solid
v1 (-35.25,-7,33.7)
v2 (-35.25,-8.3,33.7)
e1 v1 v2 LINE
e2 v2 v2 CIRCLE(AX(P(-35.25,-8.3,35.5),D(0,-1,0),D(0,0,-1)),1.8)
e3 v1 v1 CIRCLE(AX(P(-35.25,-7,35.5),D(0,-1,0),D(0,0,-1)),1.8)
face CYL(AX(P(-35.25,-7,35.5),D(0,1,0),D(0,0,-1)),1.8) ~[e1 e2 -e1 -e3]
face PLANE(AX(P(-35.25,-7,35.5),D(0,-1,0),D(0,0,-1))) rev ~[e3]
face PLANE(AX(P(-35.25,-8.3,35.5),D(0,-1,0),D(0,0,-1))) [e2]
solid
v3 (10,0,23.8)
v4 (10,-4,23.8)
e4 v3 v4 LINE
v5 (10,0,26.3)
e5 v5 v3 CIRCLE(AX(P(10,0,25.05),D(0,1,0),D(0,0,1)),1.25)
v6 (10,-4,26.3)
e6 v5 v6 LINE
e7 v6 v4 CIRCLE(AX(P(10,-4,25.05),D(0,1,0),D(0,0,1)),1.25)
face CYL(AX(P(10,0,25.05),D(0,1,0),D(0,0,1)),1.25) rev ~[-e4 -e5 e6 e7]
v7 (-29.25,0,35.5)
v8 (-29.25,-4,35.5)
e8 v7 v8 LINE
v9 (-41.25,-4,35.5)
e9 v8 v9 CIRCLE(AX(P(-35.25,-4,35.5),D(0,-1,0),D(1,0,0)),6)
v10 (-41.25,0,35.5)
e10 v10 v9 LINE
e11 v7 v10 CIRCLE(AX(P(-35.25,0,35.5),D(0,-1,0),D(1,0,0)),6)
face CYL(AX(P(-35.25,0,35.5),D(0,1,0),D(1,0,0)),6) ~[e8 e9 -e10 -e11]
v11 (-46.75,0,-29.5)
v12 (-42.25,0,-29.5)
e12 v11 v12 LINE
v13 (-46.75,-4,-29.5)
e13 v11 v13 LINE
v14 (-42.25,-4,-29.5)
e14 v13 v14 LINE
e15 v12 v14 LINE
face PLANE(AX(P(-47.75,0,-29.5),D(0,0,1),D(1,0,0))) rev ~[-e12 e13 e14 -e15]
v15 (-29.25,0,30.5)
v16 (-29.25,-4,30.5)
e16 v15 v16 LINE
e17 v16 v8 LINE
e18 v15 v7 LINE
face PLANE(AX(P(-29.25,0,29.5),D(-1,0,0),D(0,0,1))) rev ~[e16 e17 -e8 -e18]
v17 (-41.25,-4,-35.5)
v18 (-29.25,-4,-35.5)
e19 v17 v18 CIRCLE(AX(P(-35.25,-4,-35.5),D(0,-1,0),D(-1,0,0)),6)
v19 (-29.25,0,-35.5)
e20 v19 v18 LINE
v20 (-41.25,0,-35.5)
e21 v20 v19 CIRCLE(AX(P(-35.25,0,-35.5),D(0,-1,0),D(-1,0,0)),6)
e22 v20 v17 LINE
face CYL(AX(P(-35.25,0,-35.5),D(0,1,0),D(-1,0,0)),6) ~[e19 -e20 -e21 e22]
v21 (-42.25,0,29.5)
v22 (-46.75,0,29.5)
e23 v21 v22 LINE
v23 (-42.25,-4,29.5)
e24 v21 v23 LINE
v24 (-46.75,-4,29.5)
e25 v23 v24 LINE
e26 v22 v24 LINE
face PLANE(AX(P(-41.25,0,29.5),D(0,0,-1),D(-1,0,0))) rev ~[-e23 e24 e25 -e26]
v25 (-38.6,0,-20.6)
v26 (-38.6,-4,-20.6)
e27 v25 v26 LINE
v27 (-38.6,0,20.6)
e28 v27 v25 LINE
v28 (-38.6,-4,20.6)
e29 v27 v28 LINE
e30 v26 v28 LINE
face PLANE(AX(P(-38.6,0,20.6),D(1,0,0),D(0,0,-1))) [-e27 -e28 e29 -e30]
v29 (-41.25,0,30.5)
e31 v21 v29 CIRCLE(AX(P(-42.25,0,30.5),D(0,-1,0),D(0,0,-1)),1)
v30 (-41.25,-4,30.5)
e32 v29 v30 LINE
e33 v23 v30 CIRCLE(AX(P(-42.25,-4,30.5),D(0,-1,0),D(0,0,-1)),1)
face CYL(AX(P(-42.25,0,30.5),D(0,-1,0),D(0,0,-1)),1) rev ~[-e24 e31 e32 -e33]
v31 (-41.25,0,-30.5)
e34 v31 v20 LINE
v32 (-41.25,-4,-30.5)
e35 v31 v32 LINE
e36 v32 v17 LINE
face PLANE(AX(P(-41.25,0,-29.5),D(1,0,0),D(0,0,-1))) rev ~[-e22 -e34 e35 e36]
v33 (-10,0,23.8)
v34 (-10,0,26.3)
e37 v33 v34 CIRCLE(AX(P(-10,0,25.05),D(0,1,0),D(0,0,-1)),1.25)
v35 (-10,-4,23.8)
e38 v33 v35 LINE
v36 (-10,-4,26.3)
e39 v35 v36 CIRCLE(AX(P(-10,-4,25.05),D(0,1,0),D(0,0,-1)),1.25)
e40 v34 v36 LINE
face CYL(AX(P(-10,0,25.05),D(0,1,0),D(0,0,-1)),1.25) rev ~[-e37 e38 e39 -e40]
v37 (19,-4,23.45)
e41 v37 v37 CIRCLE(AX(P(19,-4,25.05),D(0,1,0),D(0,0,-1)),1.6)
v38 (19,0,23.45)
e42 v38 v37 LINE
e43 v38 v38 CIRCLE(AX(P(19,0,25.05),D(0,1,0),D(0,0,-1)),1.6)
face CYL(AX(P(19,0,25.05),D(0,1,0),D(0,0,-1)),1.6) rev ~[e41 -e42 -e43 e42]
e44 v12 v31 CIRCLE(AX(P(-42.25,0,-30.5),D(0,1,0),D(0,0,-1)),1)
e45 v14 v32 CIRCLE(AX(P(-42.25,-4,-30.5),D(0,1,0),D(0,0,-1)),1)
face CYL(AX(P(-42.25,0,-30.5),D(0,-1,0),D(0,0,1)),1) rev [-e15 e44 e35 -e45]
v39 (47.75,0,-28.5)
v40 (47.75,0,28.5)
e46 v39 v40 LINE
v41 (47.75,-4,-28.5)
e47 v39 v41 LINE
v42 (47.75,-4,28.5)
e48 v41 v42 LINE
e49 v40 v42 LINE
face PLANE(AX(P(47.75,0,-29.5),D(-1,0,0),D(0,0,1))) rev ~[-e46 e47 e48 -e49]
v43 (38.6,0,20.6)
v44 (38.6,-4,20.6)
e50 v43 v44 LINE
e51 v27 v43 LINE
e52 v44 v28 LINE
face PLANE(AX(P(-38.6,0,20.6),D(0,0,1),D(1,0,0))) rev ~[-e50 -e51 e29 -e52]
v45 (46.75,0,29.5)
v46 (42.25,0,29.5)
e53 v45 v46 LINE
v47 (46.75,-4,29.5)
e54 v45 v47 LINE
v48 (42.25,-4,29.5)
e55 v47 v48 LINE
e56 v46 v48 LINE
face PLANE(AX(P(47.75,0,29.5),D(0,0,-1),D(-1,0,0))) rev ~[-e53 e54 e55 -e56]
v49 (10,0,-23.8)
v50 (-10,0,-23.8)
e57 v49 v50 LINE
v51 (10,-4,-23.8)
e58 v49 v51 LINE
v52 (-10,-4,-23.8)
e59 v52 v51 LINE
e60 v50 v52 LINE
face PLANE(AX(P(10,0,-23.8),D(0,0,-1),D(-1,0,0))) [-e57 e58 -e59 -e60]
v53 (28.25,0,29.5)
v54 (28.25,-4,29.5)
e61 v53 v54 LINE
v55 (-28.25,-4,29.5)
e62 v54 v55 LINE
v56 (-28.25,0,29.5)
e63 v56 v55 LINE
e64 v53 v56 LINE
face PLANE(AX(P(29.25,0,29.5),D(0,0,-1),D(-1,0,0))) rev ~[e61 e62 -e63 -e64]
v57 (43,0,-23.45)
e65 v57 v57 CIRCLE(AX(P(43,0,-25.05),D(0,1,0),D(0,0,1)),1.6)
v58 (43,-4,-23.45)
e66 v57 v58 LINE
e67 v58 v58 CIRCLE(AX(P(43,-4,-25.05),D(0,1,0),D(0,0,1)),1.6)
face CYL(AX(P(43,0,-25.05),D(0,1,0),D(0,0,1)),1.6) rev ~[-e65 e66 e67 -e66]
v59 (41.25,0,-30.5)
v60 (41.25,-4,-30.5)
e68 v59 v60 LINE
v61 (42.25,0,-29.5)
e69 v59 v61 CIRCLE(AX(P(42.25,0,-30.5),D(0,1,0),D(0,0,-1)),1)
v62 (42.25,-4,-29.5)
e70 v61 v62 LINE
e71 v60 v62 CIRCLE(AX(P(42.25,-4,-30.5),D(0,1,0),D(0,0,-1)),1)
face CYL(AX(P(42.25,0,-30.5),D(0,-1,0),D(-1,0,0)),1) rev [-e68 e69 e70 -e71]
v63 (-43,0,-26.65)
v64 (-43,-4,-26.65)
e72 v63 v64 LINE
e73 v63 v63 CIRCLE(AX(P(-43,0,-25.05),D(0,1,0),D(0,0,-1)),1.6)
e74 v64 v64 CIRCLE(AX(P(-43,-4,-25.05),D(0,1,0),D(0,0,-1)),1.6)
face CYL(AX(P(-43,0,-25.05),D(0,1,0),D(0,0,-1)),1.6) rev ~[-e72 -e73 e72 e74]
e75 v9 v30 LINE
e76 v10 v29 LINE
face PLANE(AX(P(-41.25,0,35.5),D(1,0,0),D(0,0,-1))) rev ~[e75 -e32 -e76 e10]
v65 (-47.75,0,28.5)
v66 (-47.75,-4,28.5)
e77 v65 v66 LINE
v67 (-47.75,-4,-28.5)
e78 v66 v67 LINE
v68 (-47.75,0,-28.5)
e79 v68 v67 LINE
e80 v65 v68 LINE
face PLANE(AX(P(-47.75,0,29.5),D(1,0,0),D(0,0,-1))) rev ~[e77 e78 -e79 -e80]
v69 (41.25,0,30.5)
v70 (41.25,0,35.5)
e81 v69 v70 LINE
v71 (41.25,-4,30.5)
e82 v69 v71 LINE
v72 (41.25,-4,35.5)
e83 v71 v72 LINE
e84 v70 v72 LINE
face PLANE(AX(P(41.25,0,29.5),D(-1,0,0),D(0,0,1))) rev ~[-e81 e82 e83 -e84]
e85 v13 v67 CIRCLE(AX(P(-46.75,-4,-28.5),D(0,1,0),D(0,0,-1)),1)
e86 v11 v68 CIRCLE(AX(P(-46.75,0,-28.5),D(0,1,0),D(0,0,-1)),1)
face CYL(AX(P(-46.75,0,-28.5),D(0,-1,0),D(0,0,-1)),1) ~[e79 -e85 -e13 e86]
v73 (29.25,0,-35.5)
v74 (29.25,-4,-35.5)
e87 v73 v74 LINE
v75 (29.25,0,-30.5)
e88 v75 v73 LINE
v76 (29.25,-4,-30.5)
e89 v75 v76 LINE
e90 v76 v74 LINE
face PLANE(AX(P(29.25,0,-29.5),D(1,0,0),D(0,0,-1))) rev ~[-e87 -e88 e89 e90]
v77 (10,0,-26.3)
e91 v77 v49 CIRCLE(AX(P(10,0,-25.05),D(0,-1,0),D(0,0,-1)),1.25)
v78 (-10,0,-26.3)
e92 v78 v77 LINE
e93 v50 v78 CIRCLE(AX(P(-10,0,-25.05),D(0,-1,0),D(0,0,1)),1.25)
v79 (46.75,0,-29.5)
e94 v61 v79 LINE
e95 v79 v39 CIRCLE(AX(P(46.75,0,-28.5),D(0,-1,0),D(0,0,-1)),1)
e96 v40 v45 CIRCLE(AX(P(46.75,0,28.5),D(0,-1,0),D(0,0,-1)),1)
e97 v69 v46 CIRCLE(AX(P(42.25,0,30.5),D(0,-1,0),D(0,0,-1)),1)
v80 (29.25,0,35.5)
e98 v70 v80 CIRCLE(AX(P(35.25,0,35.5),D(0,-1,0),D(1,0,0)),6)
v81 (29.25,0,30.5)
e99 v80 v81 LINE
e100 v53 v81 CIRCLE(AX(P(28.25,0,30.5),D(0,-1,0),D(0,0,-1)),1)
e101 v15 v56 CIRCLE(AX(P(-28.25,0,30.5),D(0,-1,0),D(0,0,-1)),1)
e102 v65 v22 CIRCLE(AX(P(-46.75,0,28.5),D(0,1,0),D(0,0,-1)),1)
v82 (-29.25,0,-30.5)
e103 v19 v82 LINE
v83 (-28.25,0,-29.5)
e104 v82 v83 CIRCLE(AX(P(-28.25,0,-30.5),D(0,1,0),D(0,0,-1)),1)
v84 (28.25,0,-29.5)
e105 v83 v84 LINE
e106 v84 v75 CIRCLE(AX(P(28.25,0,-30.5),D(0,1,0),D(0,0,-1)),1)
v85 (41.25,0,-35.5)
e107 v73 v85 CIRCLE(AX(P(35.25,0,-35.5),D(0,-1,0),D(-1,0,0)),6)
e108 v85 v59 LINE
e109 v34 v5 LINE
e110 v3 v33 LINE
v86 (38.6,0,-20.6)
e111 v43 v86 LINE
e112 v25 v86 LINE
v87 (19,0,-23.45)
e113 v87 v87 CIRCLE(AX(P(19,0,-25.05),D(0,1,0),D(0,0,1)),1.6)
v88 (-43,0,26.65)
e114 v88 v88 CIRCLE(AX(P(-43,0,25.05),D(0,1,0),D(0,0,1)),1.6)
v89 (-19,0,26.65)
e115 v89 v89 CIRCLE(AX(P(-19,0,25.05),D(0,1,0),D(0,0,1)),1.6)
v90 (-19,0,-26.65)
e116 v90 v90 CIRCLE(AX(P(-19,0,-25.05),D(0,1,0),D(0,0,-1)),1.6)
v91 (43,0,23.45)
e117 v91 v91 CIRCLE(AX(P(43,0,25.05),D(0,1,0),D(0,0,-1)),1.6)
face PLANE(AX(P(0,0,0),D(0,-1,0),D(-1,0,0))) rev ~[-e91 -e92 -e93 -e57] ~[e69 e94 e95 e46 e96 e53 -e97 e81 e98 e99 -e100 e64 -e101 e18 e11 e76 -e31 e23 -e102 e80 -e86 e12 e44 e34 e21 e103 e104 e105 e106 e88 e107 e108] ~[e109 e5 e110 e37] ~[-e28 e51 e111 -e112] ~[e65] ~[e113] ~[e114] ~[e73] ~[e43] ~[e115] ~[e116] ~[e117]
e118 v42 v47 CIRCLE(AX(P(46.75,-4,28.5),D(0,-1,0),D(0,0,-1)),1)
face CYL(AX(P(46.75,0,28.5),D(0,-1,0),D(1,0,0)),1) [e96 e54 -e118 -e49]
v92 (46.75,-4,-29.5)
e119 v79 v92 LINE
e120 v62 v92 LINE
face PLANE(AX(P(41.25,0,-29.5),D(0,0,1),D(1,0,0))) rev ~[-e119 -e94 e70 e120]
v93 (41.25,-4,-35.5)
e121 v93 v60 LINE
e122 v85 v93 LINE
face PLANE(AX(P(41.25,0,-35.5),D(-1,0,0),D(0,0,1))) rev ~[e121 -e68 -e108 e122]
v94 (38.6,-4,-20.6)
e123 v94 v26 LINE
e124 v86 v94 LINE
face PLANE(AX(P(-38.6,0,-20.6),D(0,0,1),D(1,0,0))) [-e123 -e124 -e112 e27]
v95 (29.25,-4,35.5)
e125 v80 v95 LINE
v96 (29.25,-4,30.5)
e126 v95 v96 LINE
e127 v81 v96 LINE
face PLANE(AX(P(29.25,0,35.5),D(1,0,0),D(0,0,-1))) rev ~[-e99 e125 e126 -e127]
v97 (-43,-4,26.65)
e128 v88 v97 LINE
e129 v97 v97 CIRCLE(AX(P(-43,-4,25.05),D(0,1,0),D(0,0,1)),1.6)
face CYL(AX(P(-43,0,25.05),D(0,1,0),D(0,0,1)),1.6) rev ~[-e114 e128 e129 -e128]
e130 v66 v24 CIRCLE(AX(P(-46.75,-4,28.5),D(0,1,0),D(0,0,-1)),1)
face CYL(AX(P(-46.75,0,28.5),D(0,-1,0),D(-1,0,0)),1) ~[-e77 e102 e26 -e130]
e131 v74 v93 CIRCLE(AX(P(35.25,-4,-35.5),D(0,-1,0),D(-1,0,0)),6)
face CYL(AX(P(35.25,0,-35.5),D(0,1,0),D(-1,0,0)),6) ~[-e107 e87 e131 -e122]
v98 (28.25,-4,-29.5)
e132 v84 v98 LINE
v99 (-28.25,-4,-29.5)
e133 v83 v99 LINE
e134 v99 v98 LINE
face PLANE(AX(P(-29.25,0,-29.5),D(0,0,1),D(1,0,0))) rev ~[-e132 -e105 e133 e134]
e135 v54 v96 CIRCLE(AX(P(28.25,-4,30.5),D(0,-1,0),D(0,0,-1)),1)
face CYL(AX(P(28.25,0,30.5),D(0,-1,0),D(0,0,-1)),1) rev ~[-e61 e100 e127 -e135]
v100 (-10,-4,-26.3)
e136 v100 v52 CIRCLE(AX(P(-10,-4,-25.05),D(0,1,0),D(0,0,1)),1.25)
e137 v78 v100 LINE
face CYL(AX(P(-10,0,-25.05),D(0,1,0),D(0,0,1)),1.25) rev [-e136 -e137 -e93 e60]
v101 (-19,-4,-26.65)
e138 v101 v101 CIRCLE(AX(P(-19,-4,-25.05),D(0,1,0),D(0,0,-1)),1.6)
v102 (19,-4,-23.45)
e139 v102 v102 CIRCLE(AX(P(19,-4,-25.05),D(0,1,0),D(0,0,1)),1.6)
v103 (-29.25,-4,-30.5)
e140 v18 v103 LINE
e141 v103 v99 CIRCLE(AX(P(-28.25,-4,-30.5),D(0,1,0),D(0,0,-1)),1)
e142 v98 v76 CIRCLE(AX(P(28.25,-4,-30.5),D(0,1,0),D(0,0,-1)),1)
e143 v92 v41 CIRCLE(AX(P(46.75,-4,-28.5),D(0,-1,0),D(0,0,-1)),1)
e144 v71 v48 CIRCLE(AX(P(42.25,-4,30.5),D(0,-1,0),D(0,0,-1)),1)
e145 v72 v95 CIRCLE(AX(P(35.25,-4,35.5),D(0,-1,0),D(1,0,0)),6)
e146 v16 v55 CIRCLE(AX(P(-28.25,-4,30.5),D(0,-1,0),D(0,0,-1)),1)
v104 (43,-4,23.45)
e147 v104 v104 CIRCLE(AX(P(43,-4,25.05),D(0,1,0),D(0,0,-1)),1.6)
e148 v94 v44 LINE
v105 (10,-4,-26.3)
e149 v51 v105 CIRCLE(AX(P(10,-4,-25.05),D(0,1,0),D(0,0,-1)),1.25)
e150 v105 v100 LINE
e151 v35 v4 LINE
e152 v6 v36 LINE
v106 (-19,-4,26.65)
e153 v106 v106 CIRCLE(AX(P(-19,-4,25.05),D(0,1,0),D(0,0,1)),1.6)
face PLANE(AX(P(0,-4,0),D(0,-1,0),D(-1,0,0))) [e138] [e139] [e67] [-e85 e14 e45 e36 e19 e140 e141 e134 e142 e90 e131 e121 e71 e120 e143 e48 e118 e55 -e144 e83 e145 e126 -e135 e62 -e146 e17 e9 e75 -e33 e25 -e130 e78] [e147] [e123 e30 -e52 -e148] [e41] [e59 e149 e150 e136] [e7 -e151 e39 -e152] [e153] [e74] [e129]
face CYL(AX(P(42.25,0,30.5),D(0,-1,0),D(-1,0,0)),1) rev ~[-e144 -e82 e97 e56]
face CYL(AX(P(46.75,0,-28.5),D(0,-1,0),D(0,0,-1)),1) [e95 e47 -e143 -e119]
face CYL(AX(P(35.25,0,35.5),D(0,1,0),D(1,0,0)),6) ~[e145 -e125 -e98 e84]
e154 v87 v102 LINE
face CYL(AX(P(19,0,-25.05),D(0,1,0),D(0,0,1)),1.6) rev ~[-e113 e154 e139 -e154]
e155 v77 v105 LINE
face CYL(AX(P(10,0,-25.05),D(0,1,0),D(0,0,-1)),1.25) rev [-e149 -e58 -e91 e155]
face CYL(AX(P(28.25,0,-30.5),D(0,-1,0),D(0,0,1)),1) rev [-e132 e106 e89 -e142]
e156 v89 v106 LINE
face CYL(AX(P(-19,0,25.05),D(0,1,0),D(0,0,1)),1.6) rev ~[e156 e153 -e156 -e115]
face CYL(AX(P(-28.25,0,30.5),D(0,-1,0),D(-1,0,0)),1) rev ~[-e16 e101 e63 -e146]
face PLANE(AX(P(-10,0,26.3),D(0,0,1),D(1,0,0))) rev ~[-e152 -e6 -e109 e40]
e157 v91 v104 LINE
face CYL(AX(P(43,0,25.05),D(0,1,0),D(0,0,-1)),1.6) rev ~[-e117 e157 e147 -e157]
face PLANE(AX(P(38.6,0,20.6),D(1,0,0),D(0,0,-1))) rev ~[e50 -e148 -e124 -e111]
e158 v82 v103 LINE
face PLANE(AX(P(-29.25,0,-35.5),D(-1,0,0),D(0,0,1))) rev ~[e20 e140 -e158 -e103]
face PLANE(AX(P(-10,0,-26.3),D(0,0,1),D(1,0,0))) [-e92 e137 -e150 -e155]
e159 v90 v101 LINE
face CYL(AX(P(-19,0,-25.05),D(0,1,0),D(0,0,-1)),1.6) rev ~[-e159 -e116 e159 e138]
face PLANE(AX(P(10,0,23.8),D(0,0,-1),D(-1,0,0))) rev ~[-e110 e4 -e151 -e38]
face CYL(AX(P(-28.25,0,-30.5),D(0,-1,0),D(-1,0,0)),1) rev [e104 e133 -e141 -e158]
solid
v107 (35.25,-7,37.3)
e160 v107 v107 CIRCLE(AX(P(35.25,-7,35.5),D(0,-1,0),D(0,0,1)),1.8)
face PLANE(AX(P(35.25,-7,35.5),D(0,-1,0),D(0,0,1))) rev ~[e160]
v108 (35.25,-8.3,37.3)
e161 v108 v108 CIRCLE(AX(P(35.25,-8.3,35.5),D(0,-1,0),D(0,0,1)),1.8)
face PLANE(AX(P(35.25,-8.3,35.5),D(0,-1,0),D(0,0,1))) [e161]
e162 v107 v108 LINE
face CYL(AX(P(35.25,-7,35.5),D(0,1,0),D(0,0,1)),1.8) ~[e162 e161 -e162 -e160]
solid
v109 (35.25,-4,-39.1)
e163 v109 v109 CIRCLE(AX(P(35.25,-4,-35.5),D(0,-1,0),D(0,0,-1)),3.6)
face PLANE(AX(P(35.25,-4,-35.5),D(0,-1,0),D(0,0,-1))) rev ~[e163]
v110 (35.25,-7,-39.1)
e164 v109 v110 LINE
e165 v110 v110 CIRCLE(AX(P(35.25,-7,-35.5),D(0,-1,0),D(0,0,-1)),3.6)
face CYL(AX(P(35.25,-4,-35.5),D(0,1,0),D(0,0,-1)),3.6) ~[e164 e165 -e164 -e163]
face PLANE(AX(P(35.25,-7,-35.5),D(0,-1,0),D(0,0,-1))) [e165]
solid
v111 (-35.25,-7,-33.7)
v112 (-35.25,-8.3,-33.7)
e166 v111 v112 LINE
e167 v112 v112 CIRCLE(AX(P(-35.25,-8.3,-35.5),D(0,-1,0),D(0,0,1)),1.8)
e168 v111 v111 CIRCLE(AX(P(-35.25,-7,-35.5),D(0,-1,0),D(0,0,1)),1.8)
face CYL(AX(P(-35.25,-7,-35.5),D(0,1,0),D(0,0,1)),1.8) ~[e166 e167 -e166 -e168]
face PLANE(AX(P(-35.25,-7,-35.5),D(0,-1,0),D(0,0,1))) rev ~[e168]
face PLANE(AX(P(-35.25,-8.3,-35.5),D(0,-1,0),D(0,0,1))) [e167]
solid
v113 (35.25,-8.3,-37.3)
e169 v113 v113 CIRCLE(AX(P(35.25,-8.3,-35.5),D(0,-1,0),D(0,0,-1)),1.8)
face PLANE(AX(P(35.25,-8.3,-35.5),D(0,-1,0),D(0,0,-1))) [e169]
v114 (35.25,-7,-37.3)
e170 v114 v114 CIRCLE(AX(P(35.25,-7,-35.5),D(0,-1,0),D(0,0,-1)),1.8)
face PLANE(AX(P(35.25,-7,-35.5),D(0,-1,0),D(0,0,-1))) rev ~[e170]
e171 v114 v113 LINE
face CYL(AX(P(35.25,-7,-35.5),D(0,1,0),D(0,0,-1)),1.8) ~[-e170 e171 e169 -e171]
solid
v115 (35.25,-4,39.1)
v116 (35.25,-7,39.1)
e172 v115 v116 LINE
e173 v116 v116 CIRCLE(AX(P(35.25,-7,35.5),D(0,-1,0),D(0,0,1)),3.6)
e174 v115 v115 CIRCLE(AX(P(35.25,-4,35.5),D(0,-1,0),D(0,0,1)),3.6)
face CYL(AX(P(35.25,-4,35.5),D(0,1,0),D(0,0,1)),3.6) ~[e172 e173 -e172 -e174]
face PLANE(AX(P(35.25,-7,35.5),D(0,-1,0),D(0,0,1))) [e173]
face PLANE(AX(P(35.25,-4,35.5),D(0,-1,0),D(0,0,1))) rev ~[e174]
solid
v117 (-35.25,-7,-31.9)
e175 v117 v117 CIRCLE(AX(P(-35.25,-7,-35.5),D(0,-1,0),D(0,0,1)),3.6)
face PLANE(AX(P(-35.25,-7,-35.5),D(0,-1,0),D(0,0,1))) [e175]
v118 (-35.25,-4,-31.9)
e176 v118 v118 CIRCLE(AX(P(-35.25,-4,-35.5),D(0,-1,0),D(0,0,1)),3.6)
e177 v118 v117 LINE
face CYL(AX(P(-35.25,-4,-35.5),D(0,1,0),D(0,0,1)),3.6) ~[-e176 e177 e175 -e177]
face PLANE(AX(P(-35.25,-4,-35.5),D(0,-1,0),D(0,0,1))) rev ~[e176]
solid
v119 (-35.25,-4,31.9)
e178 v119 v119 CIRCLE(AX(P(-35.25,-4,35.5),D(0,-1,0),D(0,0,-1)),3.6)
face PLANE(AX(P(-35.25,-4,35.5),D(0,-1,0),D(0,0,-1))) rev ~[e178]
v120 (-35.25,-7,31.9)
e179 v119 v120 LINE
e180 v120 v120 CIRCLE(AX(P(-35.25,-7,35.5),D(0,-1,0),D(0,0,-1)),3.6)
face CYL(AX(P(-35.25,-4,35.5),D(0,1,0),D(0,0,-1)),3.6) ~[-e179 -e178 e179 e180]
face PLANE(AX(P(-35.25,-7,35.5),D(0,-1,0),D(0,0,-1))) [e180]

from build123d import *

# Parameters (mm, degrees)
EXTRUDE_1_DEPTH     = 4
SKETCH_4_R          = 3.6
EXTRUDE_2_DEPTH     = 3
EXTRUDE_2_2_DEPTH   = 3
EXTRUDE_2_3_DEPTH   = 3
EXTRUDE_2_4_DEPTH   = 3
SKETCH_5_R          = 1.8
EXTRUDE_3_DEPTH     = 1.3
EXTRUDE_3_2_DEPTH   = 1.3
EXTRUDE_3_3_DEPTH   = 1.3
EXTRUDE_3_4_DEPTH   = 1.3
SKETCH_10_W         = 77.2
SKETCH_10_H         = 41.2
CUT_EXTRUDE_5_DEPTH = 64.805975426
SKETCH_16_R         = 1.6
CUT_EXTRUDE_6_DEPTH = 10
FILLET_1_R          = 1


with BuildPart() as part:
    # 草图1 → 凸台-拉伸1 (new body)
    with BuildSketch(Plane(origin=(0, 0, 0), x_dir=(1, 0, 0), z_dir=(0, 1, 0))):
        with BuildLine():
            Line((-47.75, 29.5), (-41.25, 29.5))
            Line((-41.25, 29.5), (-41.25, 35.5))
            ThreePointArc((-41.25, 35.5), (-35.25, 41.5), (-29.25, 35.5))
            Line((-29.25, 35.5), (-29.25, 29.5))
            Line((-29.25, 29.5), (-3, 29.5))
            Line((-3, 29.5), (3.25, 29.5))
            Line((3.25, 29.5), (29.25, 29.5))
            Line((29.25, 29.5), (29.25, 35.5))
            ThreePointArc((29.25, 35.5), (35.25, 41.5), (41.25, 35.5))
            Line((41.25, 35.5), (41.25, 29.5))
            Line((41.25, 29.5), (47.75, 29.5))
            Line((47.75, 29.5), (47.75, -29.5))
            Line((47.75, -29.5), (41.25, -29.5))
            Line((41.25, -29.5), (41.25, -35.5))
            ThreePointArc((41.25, -35.5), (35.25, -41.5), (29.25, -35.5))
            Line((29.25, -35.5), (29.25, -29.5))
            Line((29.25, -29.5), (3.25, -29.5))
            Line((3.25, -29.5), (-3, -29.5))
            Line((-3, -29.5), (-29.25, -29.5))
            Line((-29.25, -29.5), (-29.25, -35.5))
            ThreePointArc((-29.25, -35.5), (-35.25, -41.5), (-41.25, -35.5))
            Line((-41.25, -35.5), (-41.25, -29.5))
            Line((-41.25, -29.5), (-47.75, -29.5))
            Line((-47.75, -29.5), (-47.75, 29.5))
        make_face()
    extrude(amount=-EXTRUDE_1_DEPTH)

    # 草图10 → 切除-拉伸5 (cut, through all)
    with BuildSketch(Plane(origin=(0, 0, 0), x_dir=(1, 0, 0), z_dir=(0, 1, 0))):
        Rectangle(SKETCH_10_W, SKETCH_10_H)
    extrude(amount=-CUT_EXTRUDE_5_DEPTH, mode=Mode.SUBTRACT)

    # 草图16 → 切除-拉伸6 (cut)
    with BuildSketch(Plane(origin=(0, 0, 0), x_dir=(1, 0, 0), z_dir=(0, 1, 0))):
        with Locations(Location((19, 25.05, 0), (0, 0, 270))):
            Circle(SKETCH_16_R)
        with Locations(Location((43, 25.05, 0), (0, 0, 270))):
            Circle(SKETCH_16_R)
        with Locations(Location((-43, 25.05, 0), (0, 0, 90))):
            Circle(SKETCH_16_R)
        with Locations(Location((-19, 25.05, 0), (0, 0, 90))):
            Circle(SKETCH_16_R)
        with Locations(Location((43, -25.05, 0), (0, 0, 90))):
            Circle(SKETCH_16_R)
        with Locations(Location((19, -25.05, 0), (0, 0, 90))):
            Circle(SKETCH_16_R)
        with Locations(Location((-19, -25.05, 0), (0, 0, 270))):
            Circle(SKETCH_16_R)
        with Locations(Location((-43, -25.05, 0), (0, 0, 270))):
            Circle(SKETCH_16_R)
        with BuildLine():
            Line((-10, 26.3), (10, 26.3))
            ThreePointArc((10, 26.3), (11.25, 25.05), (10, 23.8))
            Line((10, 23.8), (-10, 23.8))
            ThreePointArc((-10, 23.8), (-11.25, 25.05), (-10, 26.3))
        make_face()
        with BuildLine():
            Line((-10, -26.3), (10, -26.3))
            ThreePointArc((10, -26.3), (11.25, -25.05), (10, -23.8))
            Line((10, -23.8), (-10, -23.8))
            ThreePointArc((-10, -23.8), (-11.25, -25.05), (-10, -26.3))
        make_face()
    extrude(amount=-CUT_EXTRUDE_6_DEPTH, mode=Mode.SUBTRACT)

    # 圆角1
    fillet_1_edges = [part.edges().sort_by_distance(p)[0] for p in [
        (41.25, -2, 29.5),
        (29.25, -2, 29.5),
        (-29.25, -2, 29.5),
        (-41.25, -2, 29.5),
        (-47.75, -2, 29.5),
        (-47.75, -2, -29.5),
        (-41.25, -2, -29.5),
        (-29.25, -2, -29.5),
        (29.25, -2, -29.5),
        (41.25, -2, -29.5),
        (47.75, -2, -29.5),
        (47.75, -2, 29.5),
    ]]
    fillet(fillet_1_edges, radius=FILLET_1_R)


with BuildPart() as body_2:
    # 草图4 → 凸台-拉伸2 (new body)
    with BuildSketch(Plane.XZ.offset(4)):
        with Locations(Location((-35.25, 35.5, 0), (0, 0, 270))):
            Circle(SKETCH_4_R)
    extrude(amount=EXTRUDE_2_DEPTH)


with BuildPart() as body_3:
    # 草图4 → Extrude 2 2 (new body)
    with BuildSketch(Plane.XZ.offset(4)):
        with Locations(Location((-35.25, -35.5, 0), (0, 0, 90))):
            Circle(SKETCH_4_R)
    extrude(amount=EXTRUDE_2_2_DEPTH)


with BuildPart() as body_4:
    # 草图4 → Extrude 2 3 (new body)
    with BuildSketch(Plane.XZ.offset(4)):
        with Locations(Location((35.25, -35.5, 0), (0, 0, 270))):
            Circle(SKETCH_4_R)
    extrude(amount=EXTRUDE_2_3_DEPTH)


with BuildPart() as body_5:
    # 草图4 → Extrude 2 4 (new body)
    with BuildSketch(Plane.XZ.offset(4)):
        with Locations(Location((35.25, 35.5, 0), (0, 0, 90))):
            Circle(SKETCH_4_R)
    extrude(amount=EXTRUDE_2_4_DEPTH)


with BuildPart() as body_6:
    # 草图5 → 凸台-拉伸3 (new body)
    with BuildSketch(Plane.XZ.offset(7)):
        with Locations(Location((-35.25, 35.5, 0), (0, 0, 270))):
            Circle(SKETCH_5_R)
    extrude(amount=EXTRUDE_3_DEPTH)


with BuildPart() as body_7:
    # 草图5 → Extrude 3 2 (new body)
    with BuildSketch(Plane.XZ.offset(7)):
        with Locations(Location((-35.25, -35.5, 0), (0, 0, 90))):
            Circle(SKETCH_5_R)
    extrude(amount=EXTRUDE_3_2_DEPTH)


with BuildPart() as body_8:
    # 草图5 → Extrude 3 3 (new body)
    with BuildSketch(Plane.XZ.offset(7)):
        with Locations(Location((35.25, -35.5, 0), (0, 0, 270))):
            Circle(SKETCH_5_R)
    extrude(amount=EXTRUDE_3_3_DEPTH)


with BuildPart() as body_9:
    # 草图5 → Extrude 3 4 (new body)
    with BuildSketch(Plane.XZ.offset(7)):
        with Locations(Location((35.25, 35.5, 0), (0, 0, 90))):
            Circle(SKETCH_5_R)
    extrude(amount=EXTRUDE_3_4_DEPTH)


solid = Compound([part.part, body_2.part, body_3.part, body_4.part, body_5.part, body_6.part, body_7.part, body_8.part, body_9.part])
